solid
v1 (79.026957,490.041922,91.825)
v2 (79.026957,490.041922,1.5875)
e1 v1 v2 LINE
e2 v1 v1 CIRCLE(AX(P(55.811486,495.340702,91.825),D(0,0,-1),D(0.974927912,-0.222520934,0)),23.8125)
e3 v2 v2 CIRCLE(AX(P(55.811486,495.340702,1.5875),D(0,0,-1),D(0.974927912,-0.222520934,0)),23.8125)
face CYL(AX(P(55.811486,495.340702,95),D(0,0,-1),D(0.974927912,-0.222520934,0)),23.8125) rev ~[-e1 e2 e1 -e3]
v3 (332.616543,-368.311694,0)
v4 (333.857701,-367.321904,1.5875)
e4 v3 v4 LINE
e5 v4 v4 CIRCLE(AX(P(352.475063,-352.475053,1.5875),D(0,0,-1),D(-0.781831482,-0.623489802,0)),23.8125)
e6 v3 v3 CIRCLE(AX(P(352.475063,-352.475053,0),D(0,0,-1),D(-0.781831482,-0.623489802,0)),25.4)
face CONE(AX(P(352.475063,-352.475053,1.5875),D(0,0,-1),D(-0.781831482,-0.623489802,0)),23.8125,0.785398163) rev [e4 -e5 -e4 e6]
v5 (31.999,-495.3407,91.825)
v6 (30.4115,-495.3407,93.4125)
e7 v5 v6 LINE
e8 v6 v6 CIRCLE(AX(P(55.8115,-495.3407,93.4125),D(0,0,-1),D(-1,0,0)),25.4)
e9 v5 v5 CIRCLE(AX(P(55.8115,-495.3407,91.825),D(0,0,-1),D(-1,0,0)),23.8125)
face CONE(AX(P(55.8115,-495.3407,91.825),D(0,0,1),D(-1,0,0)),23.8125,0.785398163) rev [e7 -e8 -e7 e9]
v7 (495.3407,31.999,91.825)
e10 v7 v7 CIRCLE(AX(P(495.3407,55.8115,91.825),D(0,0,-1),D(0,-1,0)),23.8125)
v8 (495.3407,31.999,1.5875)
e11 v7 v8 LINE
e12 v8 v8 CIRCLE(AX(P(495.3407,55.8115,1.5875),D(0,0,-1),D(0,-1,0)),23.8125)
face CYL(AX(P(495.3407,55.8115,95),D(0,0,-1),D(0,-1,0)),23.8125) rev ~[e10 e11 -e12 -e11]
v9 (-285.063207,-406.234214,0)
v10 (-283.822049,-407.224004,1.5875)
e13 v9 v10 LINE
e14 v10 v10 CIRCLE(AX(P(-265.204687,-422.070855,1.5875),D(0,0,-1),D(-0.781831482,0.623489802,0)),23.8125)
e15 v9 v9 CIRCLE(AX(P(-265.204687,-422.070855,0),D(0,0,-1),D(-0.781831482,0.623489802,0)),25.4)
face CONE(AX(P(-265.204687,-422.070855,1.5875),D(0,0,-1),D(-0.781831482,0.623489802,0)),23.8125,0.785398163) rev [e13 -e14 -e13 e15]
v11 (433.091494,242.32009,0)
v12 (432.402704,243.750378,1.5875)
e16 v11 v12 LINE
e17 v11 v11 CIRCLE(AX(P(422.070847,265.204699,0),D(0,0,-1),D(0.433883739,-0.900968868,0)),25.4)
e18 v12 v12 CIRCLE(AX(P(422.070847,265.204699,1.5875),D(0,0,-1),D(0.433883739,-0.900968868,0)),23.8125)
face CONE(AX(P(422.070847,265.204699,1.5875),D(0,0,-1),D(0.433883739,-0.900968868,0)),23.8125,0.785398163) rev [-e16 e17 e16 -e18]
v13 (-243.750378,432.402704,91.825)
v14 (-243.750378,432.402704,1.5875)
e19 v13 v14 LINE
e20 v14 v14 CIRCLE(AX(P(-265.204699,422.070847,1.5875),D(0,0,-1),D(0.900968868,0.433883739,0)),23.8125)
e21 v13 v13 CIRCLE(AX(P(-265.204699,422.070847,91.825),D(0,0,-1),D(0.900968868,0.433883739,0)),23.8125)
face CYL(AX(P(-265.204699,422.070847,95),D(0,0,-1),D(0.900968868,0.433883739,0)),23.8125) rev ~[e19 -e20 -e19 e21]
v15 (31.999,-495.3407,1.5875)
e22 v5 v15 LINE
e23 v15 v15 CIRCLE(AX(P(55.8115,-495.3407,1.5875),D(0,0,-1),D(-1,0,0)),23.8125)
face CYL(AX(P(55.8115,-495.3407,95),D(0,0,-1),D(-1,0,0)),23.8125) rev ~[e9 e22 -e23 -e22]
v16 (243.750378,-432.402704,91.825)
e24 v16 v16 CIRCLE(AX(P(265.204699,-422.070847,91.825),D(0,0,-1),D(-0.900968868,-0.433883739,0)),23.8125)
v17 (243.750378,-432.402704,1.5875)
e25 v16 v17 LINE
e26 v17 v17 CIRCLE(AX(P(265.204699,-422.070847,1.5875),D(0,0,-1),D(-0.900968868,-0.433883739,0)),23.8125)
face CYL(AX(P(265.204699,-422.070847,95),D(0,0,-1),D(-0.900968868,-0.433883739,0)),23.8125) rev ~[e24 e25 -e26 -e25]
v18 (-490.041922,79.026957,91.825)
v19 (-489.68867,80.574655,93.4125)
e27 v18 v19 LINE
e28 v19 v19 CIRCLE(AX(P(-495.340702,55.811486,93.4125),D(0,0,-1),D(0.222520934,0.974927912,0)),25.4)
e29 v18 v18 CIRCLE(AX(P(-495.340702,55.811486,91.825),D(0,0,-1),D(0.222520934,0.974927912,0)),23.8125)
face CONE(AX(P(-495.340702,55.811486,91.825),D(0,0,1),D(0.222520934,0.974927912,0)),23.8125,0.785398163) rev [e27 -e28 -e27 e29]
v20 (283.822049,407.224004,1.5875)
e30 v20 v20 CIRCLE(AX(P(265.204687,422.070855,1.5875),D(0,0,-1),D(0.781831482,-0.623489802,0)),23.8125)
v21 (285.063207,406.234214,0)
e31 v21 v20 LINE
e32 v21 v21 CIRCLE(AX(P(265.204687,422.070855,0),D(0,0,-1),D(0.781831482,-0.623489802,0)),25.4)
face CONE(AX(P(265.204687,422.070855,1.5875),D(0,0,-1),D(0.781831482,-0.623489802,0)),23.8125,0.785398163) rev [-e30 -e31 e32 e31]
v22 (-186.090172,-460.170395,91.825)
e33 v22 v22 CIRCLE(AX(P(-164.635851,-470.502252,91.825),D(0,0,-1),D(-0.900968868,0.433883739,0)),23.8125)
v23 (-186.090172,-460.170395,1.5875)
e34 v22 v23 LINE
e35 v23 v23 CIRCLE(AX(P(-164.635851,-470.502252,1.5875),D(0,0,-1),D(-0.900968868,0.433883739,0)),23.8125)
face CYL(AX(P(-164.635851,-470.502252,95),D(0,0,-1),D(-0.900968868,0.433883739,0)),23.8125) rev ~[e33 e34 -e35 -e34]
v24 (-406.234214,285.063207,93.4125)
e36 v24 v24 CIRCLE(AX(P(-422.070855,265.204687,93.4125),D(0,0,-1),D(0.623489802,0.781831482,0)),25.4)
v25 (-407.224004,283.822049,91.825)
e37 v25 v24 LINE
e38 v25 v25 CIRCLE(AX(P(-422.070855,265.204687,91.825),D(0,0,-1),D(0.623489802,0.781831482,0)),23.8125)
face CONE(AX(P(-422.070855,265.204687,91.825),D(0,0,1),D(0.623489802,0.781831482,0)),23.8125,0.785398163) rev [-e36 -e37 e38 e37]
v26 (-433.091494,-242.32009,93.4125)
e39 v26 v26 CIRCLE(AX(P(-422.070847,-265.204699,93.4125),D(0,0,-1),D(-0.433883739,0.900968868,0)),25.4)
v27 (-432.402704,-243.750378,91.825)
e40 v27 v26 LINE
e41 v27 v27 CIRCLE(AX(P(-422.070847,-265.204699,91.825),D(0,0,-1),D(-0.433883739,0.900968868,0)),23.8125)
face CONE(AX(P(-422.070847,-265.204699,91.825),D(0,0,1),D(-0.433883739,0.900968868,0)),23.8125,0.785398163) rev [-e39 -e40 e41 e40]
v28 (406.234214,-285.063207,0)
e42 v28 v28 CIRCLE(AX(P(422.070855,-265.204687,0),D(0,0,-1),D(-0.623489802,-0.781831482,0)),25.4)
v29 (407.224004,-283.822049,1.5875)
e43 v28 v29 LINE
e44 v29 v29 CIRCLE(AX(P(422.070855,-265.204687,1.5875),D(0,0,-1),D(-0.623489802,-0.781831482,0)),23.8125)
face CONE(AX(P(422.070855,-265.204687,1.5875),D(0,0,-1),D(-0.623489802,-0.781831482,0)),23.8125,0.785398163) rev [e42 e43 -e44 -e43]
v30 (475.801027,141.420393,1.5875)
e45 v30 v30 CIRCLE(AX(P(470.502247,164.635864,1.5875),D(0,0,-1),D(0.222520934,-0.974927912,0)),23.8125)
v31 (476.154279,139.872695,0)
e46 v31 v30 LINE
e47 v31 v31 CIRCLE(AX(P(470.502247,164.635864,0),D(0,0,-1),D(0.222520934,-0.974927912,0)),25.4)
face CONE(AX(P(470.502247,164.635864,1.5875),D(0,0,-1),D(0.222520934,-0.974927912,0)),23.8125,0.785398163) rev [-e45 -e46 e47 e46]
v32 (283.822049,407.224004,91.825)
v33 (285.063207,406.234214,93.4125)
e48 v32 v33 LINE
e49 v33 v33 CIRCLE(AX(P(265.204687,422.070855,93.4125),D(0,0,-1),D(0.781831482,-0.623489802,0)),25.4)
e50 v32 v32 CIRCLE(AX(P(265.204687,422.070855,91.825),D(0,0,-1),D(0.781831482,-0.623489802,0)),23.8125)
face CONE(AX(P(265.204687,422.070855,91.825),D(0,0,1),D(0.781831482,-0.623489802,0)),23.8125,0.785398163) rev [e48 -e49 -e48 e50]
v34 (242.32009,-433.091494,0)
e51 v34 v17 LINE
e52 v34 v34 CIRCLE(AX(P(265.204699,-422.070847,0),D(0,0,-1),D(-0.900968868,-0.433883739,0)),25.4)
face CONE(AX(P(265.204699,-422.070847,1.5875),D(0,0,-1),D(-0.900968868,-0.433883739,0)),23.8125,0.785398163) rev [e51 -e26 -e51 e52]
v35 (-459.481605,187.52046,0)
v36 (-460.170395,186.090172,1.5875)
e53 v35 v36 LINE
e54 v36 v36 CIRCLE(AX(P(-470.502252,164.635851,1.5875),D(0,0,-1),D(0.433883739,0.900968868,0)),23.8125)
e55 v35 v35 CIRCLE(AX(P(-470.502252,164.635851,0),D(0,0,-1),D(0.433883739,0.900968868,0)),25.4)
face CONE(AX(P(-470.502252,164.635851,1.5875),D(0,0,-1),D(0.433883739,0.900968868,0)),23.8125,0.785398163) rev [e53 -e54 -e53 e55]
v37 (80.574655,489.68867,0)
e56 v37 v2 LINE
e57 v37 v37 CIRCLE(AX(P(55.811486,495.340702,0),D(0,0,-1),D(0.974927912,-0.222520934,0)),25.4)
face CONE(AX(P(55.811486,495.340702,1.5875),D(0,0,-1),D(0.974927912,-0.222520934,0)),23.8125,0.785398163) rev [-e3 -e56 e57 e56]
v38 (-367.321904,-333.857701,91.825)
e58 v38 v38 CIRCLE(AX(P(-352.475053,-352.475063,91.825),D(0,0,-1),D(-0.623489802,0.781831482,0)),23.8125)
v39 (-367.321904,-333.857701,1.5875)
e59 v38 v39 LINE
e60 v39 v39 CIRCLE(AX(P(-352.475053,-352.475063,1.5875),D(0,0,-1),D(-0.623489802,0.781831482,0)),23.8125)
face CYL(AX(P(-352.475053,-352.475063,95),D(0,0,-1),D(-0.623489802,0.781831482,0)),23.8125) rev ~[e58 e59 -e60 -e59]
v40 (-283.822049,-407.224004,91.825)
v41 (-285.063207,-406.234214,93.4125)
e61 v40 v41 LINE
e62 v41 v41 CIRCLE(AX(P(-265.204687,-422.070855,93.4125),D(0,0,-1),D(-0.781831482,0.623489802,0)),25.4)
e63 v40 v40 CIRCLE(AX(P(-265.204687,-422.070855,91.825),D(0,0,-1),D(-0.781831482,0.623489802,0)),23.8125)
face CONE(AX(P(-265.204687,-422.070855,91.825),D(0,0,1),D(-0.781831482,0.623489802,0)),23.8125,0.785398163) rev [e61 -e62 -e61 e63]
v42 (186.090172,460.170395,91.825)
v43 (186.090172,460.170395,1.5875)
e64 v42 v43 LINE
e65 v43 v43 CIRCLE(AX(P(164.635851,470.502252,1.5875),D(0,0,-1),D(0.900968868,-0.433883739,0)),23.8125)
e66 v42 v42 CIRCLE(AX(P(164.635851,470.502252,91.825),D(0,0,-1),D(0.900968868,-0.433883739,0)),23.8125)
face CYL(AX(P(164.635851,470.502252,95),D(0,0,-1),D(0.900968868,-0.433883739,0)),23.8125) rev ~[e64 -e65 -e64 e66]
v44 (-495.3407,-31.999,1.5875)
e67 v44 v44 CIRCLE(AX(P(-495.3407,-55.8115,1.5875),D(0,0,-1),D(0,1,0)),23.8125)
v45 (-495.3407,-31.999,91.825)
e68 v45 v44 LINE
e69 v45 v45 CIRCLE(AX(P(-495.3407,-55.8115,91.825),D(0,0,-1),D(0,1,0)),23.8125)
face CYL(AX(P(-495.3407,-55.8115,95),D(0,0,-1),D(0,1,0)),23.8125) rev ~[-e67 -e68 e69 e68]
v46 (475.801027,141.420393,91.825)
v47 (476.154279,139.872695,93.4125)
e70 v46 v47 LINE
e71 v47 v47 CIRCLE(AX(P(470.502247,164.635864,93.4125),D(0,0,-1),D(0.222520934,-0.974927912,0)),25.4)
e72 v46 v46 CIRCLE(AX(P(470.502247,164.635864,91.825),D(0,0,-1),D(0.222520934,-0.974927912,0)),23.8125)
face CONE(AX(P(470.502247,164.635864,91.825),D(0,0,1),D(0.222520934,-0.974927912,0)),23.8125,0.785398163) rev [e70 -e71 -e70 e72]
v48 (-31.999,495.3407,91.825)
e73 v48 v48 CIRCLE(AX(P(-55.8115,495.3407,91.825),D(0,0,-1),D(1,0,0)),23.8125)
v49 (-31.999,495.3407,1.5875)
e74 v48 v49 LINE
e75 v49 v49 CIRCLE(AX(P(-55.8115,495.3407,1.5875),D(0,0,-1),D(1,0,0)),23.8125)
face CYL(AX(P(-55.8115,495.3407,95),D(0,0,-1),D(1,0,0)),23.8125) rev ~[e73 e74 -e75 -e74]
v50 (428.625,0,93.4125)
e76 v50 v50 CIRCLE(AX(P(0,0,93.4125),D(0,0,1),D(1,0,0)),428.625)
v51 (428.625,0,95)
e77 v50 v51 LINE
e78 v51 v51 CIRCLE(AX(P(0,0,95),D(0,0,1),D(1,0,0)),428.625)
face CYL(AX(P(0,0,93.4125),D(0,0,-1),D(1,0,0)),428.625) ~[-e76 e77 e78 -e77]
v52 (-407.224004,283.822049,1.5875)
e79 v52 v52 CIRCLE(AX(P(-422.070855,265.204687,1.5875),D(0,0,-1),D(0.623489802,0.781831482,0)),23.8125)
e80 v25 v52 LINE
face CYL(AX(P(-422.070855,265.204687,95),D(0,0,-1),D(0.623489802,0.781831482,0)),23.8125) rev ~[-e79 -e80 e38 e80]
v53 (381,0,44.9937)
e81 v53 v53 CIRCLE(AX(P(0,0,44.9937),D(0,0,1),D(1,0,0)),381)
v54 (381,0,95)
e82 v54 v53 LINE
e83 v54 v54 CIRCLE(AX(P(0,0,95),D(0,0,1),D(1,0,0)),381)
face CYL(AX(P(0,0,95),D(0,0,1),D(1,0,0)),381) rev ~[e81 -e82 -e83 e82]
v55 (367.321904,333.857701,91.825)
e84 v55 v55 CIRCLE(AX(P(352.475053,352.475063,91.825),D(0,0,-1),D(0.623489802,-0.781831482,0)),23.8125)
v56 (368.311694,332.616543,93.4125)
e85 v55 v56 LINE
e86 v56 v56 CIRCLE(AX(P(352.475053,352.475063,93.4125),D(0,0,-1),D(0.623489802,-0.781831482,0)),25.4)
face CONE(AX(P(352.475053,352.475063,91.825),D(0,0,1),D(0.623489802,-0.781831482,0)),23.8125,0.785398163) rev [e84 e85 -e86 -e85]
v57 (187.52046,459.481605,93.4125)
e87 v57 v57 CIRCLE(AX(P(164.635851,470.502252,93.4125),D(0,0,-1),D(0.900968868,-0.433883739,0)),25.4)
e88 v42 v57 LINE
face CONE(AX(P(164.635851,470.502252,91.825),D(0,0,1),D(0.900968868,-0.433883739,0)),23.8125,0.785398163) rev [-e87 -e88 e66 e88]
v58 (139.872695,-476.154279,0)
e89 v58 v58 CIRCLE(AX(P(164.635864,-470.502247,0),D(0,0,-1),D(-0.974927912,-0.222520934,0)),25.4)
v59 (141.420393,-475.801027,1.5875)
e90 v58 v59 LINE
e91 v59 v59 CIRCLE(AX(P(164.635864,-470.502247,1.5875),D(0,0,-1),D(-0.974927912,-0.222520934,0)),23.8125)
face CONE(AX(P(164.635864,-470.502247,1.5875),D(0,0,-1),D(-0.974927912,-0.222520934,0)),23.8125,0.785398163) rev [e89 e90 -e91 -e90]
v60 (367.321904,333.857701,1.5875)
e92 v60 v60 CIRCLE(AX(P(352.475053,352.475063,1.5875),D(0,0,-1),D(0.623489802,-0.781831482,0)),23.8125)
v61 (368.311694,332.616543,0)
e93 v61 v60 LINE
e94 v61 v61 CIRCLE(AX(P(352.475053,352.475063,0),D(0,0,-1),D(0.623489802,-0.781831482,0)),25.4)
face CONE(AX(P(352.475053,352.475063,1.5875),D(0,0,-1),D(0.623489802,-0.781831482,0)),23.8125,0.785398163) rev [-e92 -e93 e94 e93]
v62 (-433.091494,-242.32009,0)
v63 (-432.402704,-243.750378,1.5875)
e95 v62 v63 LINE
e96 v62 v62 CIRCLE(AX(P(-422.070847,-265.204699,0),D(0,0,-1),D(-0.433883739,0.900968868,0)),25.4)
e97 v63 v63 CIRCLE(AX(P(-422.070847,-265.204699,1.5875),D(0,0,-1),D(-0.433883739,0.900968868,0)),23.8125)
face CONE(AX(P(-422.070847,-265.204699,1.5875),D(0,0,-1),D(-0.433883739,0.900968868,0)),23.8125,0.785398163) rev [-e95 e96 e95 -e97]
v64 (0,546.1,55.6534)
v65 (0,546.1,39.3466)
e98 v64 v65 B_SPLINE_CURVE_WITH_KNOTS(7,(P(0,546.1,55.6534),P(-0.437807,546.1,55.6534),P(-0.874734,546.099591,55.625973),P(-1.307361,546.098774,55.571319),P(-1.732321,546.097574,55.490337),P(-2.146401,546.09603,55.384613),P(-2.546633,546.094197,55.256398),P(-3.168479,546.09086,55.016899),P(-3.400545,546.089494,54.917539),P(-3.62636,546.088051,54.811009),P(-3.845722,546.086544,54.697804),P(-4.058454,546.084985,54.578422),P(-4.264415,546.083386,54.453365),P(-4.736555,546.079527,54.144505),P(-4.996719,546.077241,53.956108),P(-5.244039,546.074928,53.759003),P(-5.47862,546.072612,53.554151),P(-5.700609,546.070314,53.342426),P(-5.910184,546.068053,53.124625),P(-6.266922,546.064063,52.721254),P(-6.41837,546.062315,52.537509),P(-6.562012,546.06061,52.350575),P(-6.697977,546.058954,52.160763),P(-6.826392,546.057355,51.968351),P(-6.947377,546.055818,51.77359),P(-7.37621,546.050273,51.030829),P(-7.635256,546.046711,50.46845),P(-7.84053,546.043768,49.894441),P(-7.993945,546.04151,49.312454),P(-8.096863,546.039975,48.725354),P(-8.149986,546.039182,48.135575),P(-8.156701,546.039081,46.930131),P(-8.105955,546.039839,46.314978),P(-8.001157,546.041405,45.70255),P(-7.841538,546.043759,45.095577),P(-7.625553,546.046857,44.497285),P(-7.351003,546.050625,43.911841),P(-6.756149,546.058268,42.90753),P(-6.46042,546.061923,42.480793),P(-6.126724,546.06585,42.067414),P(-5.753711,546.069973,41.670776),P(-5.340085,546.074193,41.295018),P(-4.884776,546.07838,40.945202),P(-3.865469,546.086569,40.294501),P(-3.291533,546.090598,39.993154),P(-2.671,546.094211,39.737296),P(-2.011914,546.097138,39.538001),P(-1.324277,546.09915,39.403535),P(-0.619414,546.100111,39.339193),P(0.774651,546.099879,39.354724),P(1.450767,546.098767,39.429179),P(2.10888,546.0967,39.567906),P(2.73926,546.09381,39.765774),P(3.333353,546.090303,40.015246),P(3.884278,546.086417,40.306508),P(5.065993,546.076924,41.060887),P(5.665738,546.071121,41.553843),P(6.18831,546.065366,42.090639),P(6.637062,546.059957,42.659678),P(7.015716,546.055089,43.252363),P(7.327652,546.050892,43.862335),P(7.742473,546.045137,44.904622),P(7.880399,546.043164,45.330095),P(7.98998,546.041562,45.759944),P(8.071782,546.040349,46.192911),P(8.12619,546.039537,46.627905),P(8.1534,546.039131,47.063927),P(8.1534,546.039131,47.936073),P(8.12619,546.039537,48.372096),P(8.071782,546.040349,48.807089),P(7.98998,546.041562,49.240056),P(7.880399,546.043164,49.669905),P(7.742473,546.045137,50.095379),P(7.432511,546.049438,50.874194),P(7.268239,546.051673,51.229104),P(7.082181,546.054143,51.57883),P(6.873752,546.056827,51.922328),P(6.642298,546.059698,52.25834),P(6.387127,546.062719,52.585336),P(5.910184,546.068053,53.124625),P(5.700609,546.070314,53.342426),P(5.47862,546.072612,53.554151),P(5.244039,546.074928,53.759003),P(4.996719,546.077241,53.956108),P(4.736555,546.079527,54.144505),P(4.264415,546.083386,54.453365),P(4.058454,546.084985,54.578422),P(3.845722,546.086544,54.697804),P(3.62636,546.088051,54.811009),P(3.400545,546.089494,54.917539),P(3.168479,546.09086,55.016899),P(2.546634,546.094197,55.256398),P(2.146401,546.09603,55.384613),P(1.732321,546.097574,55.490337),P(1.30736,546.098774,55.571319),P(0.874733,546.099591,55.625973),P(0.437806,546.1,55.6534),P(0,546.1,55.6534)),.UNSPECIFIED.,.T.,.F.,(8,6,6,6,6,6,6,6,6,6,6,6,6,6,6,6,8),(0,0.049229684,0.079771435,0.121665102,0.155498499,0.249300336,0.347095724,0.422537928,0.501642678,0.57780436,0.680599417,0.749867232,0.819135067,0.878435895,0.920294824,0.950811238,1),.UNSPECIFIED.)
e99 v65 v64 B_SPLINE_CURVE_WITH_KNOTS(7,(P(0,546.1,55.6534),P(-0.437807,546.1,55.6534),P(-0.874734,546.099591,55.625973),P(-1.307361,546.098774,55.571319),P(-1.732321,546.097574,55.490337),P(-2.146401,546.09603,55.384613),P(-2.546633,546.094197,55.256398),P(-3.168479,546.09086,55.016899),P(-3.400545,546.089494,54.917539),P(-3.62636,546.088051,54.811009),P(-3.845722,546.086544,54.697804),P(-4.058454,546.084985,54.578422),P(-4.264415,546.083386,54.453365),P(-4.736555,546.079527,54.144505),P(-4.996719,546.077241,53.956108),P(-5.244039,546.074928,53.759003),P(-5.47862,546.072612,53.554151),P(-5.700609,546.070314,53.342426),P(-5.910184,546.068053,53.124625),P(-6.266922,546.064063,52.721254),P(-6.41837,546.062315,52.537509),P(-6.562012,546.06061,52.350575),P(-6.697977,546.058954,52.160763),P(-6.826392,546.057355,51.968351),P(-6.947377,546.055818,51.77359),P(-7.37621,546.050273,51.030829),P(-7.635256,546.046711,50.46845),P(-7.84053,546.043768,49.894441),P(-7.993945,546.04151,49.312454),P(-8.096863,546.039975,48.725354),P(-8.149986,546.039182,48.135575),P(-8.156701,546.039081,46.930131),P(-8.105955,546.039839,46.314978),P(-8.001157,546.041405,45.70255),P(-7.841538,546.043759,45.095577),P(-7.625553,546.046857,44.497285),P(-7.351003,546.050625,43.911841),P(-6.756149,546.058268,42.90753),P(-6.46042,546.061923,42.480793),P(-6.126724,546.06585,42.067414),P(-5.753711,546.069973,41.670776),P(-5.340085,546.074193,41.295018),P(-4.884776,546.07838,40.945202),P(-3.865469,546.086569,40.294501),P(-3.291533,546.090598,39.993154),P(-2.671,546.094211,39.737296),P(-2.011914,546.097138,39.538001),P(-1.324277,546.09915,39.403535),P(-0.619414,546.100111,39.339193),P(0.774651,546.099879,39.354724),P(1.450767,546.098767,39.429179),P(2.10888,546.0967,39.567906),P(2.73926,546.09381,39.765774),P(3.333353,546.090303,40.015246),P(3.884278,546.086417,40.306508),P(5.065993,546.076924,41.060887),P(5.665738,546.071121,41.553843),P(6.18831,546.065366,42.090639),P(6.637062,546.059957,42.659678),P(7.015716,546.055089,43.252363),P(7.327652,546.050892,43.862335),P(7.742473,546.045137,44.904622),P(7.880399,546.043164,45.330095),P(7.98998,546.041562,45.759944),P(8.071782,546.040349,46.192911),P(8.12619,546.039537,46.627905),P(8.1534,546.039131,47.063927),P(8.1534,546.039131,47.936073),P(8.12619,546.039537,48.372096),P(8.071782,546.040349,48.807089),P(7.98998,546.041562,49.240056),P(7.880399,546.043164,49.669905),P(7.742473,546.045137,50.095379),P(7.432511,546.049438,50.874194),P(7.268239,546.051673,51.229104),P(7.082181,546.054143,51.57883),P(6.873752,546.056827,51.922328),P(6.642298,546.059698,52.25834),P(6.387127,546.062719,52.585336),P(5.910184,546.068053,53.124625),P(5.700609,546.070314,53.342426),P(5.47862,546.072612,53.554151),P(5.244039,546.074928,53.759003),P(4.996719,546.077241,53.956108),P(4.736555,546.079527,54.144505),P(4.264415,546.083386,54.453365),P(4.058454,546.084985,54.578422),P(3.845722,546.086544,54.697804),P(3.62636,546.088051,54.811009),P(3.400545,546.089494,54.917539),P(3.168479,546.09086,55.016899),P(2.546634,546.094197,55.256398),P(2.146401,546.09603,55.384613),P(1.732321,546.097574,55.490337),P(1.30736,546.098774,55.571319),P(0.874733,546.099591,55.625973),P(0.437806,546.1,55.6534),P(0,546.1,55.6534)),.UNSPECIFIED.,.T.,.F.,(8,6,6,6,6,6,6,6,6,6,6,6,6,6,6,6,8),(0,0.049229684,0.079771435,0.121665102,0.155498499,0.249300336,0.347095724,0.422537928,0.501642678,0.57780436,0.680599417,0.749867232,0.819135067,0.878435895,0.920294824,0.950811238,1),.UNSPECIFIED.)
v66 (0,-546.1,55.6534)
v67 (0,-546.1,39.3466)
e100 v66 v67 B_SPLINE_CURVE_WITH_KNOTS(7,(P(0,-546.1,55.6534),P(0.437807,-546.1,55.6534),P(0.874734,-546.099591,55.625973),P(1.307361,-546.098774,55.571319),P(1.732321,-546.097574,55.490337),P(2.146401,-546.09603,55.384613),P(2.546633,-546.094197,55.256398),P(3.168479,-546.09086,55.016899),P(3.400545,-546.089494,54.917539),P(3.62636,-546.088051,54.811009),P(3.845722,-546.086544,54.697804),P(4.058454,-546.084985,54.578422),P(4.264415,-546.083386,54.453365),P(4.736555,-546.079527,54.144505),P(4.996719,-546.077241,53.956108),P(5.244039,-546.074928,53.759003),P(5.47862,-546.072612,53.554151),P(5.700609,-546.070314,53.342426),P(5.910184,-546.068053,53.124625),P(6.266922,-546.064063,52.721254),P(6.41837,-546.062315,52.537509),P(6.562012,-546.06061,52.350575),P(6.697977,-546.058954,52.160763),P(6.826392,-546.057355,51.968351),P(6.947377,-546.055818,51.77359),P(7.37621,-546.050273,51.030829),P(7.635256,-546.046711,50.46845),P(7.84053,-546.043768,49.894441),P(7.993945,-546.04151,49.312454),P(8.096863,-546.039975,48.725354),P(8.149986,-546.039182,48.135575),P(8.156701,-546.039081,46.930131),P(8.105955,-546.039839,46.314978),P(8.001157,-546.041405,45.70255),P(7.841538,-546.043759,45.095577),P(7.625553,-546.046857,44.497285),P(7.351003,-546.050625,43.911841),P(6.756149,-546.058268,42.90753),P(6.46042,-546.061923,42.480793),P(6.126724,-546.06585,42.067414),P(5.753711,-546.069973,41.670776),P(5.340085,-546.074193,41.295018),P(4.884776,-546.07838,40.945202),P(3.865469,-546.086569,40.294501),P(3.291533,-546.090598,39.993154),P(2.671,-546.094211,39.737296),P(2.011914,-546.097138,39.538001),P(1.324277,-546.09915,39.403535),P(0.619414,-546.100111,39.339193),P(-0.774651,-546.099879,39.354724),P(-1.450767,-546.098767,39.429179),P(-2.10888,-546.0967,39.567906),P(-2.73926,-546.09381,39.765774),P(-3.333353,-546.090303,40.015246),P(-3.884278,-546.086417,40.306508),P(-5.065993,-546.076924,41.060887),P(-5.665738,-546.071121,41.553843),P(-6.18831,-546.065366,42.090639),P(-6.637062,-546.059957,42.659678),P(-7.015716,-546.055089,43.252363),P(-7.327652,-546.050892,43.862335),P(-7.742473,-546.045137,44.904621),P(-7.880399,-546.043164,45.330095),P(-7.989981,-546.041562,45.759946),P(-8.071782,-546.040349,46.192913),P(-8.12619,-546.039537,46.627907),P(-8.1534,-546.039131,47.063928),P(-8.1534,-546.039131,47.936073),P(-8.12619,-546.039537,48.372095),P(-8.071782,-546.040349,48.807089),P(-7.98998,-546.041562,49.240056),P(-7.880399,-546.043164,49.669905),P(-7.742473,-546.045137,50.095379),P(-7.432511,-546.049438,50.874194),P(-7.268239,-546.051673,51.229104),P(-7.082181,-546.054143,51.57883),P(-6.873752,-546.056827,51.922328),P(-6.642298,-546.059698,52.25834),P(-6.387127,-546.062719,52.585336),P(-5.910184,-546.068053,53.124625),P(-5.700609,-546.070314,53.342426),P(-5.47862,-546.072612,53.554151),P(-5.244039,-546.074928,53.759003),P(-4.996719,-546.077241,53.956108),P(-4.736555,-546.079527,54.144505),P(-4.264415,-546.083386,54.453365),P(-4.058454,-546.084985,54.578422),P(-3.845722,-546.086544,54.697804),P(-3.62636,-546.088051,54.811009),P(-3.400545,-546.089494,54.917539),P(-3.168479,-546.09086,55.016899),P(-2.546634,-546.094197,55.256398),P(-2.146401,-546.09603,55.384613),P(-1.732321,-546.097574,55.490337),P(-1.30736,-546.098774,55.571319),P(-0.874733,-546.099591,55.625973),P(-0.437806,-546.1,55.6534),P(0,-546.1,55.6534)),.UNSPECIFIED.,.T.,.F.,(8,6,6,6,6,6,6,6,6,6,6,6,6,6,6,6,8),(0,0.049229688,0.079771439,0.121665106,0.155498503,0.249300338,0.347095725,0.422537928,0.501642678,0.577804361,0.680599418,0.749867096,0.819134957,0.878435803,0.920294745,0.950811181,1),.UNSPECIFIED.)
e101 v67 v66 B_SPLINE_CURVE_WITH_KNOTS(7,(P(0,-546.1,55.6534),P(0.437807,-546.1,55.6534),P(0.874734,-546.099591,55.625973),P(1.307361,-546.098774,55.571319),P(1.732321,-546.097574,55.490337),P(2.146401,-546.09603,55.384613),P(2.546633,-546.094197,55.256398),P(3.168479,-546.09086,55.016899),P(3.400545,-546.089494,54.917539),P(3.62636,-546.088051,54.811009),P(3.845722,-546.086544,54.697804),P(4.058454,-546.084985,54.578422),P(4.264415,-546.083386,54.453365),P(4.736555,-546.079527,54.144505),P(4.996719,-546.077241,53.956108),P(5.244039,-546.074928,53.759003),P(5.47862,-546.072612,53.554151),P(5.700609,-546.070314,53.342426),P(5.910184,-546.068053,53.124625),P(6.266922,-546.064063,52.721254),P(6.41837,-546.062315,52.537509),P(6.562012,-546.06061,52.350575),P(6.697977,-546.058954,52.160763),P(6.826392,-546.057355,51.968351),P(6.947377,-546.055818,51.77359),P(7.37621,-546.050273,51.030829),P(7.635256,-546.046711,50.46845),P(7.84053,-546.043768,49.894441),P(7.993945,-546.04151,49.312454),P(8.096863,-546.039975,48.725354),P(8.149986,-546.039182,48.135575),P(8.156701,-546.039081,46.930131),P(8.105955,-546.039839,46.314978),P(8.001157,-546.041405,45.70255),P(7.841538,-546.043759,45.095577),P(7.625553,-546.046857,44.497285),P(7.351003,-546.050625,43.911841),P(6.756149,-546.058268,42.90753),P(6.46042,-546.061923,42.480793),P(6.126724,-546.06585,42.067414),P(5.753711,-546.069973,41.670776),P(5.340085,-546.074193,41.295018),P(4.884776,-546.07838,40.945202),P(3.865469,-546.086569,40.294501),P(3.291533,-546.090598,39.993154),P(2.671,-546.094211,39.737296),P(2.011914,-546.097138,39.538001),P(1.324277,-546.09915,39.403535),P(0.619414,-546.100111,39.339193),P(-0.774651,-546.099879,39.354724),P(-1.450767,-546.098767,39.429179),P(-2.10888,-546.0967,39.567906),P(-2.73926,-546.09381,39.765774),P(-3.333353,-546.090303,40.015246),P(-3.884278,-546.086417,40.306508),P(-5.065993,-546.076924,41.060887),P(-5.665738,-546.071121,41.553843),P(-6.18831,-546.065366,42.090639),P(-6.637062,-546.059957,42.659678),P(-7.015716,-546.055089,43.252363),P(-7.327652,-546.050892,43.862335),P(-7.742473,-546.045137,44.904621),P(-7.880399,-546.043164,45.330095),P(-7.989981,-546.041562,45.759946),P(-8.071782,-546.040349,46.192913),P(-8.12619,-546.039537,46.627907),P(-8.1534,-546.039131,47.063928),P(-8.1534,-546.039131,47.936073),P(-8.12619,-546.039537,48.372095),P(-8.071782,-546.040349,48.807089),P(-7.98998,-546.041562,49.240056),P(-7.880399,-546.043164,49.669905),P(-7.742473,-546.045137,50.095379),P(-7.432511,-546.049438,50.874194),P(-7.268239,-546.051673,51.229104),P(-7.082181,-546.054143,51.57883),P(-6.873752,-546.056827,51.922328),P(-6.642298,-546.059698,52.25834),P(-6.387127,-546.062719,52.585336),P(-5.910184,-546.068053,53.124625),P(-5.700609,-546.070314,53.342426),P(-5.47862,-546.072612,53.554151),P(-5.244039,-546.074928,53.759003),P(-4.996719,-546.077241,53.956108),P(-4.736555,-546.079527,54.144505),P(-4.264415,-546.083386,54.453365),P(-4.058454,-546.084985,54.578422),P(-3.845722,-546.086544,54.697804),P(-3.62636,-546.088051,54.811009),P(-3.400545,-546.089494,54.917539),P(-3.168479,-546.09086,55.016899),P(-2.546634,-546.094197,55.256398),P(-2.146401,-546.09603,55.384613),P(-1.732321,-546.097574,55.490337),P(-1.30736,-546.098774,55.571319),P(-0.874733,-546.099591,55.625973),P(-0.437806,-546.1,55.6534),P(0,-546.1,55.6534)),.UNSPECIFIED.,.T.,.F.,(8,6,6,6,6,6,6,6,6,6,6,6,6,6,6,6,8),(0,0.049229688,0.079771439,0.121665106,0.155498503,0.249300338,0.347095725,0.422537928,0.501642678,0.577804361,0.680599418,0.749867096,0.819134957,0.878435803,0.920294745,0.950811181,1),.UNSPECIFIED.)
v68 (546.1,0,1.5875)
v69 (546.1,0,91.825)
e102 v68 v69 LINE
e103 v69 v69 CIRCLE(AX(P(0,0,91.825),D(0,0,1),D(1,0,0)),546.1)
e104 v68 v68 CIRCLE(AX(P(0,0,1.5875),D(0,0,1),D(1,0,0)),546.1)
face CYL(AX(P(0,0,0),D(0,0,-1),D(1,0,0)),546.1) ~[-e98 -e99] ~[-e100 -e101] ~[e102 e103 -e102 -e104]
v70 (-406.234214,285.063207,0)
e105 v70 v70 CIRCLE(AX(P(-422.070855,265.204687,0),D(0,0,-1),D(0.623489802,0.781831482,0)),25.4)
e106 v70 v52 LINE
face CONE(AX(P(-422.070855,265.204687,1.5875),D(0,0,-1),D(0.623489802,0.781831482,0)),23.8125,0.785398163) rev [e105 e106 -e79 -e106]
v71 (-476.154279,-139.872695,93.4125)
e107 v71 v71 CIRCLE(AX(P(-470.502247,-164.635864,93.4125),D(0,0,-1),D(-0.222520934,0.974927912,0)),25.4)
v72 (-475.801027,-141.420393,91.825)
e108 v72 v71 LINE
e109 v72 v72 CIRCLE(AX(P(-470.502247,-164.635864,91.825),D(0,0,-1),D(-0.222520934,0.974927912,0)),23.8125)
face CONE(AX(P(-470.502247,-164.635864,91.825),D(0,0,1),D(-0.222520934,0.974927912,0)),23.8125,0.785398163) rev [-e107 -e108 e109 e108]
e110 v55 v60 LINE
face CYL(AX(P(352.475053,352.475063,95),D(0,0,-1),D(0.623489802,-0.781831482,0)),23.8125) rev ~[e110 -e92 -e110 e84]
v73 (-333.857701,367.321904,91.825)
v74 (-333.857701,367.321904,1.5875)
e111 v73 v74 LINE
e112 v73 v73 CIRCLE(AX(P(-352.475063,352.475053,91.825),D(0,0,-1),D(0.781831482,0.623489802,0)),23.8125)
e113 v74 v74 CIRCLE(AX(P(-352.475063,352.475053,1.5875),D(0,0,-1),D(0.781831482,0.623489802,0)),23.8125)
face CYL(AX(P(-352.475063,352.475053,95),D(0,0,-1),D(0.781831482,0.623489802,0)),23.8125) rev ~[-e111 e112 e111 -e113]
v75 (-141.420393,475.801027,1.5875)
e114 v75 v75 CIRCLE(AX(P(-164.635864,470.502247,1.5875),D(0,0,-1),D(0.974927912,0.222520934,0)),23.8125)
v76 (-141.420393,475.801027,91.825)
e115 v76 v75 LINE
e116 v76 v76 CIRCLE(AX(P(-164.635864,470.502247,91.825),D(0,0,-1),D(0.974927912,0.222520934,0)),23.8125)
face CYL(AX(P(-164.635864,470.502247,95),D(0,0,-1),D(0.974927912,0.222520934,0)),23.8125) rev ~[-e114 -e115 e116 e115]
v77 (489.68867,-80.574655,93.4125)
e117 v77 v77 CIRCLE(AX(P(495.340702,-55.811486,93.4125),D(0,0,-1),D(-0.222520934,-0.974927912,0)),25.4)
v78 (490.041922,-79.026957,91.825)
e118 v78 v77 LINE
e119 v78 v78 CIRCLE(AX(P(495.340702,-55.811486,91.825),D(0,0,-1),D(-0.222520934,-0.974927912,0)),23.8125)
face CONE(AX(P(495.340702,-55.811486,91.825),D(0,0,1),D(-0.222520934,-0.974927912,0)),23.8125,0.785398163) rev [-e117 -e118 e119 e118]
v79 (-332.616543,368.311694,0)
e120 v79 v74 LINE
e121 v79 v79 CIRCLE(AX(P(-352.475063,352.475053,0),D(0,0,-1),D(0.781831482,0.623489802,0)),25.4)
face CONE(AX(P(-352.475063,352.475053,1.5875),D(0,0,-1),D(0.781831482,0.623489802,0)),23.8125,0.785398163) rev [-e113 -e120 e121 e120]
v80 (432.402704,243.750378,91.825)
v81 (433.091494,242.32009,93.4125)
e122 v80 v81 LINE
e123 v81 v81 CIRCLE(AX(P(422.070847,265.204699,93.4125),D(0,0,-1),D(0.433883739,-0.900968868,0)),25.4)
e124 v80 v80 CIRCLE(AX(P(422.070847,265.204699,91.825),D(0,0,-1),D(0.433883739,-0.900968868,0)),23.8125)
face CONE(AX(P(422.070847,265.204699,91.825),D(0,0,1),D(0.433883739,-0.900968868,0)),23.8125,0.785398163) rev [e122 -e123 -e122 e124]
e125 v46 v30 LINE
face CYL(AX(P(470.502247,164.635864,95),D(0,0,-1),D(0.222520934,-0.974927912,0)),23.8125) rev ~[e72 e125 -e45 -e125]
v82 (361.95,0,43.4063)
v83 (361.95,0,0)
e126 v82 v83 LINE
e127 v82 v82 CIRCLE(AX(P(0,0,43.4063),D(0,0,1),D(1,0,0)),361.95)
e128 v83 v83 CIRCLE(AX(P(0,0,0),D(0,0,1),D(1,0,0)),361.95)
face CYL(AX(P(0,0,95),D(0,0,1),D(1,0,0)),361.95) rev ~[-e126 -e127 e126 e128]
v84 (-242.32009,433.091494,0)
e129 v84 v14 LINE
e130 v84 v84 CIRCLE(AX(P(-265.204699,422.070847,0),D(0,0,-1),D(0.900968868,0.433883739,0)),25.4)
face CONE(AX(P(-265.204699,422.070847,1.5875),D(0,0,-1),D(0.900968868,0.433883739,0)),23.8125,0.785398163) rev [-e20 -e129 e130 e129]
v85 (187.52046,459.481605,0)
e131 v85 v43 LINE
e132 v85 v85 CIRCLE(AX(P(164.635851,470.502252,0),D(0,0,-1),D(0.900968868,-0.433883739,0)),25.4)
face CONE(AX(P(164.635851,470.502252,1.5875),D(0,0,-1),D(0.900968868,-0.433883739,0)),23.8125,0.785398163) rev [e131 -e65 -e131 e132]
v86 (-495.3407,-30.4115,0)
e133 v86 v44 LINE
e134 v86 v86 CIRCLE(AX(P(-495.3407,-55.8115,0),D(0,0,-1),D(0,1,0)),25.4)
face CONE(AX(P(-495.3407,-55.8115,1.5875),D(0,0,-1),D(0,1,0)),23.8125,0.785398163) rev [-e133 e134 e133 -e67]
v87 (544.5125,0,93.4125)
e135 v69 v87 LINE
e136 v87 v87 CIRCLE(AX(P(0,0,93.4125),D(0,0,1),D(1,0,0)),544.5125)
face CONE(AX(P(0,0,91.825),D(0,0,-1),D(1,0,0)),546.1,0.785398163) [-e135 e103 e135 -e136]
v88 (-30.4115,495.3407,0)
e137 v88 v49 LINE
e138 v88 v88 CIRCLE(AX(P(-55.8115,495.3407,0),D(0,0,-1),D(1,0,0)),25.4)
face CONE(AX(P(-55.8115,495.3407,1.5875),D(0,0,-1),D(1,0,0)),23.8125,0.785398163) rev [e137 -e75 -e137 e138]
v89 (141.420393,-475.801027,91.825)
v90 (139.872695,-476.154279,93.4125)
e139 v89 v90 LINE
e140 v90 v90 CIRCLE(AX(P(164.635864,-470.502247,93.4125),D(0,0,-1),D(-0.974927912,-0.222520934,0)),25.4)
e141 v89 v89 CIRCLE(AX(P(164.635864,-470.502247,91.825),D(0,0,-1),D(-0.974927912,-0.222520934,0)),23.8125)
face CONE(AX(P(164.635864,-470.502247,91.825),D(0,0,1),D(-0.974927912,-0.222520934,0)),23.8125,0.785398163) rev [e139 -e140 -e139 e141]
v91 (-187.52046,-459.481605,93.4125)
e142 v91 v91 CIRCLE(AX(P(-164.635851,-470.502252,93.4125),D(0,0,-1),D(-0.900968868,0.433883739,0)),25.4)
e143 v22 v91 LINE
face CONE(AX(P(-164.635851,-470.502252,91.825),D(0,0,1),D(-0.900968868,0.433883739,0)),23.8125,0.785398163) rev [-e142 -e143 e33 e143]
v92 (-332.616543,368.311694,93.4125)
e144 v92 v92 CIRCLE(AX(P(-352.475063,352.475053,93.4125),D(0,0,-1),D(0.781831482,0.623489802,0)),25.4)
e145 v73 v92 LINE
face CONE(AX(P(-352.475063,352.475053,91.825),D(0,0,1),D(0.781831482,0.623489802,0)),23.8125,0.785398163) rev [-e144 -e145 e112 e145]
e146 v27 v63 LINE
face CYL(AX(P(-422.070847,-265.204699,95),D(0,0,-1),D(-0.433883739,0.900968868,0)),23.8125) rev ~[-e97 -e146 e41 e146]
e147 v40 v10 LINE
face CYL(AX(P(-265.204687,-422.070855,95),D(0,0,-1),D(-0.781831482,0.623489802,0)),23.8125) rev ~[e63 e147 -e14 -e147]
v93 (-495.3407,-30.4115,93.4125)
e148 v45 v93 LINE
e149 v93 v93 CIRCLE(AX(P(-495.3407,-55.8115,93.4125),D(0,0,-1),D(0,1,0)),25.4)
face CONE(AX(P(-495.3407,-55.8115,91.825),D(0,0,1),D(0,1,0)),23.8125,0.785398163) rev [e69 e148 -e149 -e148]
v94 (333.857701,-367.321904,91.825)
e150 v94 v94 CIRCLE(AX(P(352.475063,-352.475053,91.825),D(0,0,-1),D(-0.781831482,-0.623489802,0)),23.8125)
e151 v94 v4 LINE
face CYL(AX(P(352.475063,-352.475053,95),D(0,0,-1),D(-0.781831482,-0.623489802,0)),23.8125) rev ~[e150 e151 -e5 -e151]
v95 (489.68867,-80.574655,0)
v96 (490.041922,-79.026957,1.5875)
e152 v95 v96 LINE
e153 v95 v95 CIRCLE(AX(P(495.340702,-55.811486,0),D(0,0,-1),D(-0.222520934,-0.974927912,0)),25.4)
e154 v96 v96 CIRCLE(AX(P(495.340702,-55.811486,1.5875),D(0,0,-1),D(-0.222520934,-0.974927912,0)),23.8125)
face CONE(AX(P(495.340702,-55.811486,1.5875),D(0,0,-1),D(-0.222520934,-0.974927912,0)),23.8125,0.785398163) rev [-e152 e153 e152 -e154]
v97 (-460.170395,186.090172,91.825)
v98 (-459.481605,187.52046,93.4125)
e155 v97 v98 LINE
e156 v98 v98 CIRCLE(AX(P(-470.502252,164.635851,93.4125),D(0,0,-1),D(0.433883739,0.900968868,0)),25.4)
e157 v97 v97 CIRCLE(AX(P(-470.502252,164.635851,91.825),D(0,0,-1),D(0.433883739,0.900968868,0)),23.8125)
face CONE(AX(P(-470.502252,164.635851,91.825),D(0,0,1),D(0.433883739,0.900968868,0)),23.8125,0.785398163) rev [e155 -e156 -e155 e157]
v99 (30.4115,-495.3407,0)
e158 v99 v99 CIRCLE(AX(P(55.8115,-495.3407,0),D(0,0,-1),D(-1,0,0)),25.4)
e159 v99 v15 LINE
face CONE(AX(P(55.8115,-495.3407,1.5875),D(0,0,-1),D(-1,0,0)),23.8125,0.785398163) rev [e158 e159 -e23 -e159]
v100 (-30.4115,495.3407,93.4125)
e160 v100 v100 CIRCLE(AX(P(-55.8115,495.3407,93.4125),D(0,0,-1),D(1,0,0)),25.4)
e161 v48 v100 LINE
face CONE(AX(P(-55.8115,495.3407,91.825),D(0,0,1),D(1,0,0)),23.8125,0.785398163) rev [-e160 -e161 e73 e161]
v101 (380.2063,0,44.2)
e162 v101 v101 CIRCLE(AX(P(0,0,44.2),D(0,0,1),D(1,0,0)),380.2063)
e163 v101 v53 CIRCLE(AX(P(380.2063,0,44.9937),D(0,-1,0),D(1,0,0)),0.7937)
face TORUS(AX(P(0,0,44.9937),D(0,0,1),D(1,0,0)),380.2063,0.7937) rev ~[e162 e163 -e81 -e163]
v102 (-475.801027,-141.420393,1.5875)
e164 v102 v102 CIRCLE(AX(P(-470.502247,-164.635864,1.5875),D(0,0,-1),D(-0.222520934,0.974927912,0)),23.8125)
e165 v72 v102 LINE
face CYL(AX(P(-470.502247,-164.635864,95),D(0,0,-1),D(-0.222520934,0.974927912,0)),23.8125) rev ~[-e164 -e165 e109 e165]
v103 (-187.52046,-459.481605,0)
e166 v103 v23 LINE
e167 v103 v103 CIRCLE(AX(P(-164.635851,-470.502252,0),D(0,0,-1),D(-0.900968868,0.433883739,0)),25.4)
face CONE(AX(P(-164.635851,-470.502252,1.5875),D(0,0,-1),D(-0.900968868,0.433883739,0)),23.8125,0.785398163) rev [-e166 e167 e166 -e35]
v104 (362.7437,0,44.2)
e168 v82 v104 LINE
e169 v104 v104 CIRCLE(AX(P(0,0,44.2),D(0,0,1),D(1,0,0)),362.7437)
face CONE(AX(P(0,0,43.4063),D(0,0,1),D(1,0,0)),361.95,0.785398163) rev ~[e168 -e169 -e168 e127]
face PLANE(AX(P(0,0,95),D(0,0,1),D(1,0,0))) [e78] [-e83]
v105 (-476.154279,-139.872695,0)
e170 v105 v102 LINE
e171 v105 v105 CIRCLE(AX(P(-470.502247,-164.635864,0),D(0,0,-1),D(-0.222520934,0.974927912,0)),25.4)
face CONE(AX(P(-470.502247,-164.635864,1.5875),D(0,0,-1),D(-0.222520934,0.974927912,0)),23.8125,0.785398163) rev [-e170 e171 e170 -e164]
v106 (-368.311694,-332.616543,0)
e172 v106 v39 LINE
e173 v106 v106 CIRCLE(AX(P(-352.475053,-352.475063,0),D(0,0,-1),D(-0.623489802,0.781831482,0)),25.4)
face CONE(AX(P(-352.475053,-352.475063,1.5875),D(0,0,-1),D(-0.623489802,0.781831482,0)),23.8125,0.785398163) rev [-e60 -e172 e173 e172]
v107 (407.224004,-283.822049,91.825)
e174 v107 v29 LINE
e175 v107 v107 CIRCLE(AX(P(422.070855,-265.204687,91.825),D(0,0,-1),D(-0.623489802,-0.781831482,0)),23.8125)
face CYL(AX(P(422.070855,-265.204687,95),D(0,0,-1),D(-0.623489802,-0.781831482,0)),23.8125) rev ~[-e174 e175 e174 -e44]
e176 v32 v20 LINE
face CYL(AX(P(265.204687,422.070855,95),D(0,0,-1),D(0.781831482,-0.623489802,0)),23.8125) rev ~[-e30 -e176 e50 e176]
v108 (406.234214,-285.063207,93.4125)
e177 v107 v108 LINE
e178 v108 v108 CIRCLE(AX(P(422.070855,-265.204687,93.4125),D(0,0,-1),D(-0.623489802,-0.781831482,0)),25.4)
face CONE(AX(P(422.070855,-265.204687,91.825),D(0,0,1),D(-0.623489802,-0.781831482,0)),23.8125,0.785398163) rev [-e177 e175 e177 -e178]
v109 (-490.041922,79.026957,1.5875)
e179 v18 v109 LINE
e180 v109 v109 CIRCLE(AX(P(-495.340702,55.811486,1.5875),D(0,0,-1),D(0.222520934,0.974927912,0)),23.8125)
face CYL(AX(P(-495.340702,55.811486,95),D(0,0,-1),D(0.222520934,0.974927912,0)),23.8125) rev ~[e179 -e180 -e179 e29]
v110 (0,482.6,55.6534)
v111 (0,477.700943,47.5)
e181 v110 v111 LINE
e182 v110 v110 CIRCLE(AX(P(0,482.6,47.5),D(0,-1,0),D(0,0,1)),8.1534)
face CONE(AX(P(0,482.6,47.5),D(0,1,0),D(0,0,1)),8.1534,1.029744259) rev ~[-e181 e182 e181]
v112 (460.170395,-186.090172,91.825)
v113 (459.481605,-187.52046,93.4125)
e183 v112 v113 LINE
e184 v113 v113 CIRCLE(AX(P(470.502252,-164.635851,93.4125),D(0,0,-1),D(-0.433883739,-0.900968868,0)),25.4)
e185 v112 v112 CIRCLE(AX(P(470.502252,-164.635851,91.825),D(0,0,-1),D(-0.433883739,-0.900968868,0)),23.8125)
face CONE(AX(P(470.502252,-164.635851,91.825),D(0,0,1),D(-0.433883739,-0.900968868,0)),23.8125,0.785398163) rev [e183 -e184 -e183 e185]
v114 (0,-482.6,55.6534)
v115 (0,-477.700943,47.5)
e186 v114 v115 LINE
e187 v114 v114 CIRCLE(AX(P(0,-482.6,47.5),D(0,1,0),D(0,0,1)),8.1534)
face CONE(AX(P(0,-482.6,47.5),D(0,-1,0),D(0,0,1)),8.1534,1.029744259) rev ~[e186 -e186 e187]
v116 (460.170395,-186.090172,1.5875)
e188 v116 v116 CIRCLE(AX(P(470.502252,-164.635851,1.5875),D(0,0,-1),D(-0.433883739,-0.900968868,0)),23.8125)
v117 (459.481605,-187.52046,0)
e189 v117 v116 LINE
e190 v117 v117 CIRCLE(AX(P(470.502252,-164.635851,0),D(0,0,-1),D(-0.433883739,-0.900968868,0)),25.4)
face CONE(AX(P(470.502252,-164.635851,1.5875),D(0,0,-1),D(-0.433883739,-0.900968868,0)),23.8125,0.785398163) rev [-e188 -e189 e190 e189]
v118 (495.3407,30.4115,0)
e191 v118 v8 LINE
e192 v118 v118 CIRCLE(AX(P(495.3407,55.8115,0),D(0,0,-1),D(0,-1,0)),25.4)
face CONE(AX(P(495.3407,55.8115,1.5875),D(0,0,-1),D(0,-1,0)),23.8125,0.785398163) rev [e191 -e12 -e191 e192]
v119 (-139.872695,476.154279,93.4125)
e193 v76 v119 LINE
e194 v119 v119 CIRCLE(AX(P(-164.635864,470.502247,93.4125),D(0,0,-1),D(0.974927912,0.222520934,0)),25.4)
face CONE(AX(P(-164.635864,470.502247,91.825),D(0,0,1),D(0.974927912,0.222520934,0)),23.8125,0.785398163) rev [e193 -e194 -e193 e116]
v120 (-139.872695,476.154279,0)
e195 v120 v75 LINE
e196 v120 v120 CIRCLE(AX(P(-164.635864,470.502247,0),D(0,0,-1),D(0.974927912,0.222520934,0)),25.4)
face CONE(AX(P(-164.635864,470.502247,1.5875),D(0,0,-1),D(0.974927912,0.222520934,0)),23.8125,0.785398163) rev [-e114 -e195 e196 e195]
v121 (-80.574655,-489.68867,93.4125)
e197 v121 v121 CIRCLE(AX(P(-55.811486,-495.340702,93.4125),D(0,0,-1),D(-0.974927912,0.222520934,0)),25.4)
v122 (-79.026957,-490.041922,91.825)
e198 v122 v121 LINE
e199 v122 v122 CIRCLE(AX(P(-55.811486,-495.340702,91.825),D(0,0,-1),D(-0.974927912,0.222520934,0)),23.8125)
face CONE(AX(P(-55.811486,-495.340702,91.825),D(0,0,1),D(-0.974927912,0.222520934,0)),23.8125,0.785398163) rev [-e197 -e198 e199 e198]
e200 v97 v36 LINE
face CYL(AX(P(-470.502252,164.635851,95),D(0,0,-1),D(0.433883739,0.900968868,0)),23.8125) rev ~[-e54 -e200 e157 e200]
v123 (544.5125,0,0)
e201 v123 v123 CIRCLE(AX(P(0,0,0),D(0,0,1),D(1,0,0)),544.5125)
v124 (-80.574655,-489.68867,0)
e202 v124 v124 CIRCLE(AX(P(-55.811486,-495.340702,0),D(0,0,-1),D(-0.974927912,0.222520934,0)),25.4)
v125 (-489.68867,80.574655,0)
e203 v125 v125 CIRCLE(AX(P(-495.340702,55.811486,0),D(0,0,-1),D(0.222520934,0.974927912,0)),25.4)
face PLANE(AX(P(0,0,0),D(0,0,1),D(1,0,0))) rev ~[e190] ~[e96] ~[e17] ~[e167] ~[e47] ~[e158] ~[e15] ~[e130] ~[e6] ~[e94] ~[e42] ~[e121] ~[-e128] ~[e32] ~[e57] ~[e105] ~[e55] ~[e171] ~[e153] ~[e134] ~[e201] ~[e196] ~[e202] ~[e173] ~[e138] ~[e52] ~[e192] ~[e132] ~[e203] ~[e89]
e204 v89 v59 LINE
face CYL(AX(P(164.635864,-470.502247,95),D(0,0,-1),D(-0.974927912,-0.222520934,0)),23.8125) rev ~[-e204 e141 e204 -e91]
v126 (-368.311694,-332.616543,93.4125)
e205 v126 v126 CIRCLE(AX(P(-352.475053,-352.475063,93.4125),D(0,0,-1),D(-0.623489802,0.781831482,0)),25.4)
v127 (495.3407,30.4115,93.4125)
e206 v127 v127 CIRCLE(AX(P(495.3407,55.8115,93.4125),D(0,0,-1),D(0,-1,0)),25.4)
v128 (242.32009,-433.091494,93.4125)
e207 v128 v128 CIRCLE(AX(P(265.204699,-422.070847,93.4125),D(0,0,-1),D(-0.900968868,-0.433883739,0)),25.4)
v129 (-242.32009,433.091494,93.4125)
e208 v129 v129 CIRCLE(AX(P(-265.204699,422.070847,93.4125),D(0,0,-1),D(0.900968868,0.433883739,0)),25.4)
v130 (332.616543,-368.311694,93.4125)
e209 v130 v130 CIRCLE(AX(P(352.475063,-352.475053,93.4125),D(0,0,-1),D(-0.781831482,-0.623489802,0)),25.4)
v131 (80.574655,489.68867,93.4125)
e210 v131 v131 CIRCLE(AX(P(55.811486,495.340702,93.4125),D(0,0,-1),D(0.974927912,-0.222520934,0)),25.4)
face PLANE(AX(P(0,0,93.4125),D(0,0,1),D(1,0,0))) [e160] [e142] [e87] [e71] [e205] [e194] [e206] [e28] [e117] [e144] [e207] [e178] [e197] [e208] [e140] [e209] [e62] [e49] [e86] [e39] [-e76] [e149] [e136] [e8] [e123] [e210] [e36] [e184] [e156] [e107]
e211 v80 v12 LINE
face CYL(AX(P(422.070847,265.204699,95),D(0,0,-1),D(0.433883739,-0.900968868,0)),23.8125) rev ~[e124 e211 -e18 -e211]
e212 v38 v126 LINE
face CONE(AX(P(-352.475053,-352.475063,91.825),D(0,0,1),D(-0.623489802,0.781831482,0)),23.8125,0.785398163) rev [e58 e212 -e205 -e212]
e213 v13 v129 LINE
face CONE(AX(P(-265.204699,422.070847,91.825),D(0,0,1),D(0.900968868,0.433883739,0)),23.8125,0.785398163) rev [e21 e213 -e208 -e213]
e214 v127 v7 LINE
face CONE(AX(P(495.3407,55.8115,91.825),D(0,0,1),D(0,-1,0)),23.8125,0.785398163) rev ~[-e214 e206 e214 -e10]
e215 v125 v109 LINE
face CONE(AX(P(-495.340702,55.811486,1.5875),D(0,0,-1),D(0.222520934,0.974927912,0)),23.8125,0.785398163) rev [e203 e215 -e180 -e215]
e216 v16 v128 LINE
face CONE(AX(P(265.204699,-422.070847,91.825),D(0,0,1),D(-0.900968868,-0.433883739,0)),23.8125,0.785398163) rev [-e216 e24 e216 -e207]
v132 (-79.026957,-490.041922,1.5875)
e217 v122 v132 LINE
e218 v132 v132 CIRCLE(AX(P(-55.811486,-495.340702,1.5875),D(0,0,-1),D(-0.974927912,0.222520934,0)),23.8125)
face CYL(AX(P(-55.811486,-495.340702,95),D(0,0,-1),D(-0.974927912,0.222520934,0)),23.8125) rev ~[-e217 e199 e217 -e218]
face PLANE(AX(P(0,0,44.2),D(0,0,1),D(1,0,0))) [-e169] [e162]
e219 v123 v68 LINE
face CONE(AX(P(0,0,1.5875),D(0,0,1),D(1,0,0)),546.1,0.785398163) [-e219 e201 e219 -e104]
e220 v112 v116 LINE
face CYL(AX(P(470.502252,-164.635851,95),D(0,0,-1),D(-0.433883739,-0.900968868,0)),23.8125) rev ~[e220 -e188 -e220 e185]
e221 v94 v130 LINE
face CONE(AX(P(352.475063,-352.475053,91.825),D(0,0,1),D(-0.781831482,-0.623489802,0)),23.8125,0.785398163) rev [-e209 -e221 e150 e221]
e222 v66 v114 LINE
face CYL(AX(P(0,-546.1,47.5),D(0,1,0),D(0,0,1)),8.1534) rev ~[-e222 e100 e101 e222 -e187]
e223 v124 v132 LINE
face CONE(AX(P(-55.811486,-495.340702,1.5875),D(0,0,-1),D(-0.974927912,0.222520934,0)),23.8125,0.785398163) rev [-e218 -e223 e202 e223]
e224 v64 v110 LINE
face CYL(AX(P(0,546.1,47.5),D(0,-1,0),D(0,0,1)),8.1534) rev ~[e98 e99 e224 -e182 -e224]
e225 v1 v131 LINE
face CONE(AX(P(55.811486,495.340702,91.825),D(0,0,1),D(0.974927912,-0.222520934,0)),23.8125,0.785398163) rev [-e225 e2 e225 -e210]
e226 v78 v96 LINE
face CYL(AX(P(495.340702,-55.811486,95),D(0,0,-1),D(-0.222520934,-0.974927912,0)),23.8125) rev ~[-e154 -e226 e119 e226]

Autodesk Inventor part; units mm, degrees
ref_plane "YZ Plane" through (0, 0, 0) normal (1, 0, 0) x (0, 1, 0)
ref_plane "XY Plane" through (0, 0, 0) normal (0, 0, 1) x (1, 0, 0)
sketch "Sketch1" plane through (0, 0, 0) normal (0, 0, 1) x (1, 0, 0)
  circle A0 centre (0, 0) radius 546.1
  dimension "d0" = 1092.2
extrude "Extrusion: OD" add sketch "Sketch1" along normal blind 93.4125
sketch "Sketch2" plane through (0, 0, 93.4125) normal (0, 0, 1) x (1, 0, 0)
  circle A0 centre (0, 0) radius 428.625
  dimension "d3" = 857.25
extrude "Extrusion: RF" add sketch "Sketch2" along normal blind 1.5875
sketch "Sketch3" plane through (0, 0, 95) normal (0, 0, 1) x (1, 0, 0)
  circle A0 centre (0, 0) radius 381
  dimension "d6" = 762
  dimension "d32" = 0
extrude "Extrusion: ID Large" cut sketch "Sketch3" against normal blind 50.8
sketch "Sketch4" plane through (0, 0, 95) normal (0, 0, 1) x (1, 0, 0)
  circle A0 centre (0, 0) radius 361.95
  circle A1 centre (0, 0) radius 428.625 projected
  dimension "bore" = 723.9
extrude "Extrusion: ID Small" cut sketch "Sketch4" along normal through all both and the other way through all contours A0
sketch "Sketch5" plane through (0, 0, 95) normal (0, 0, 1) x (1, 0, 0)
  line L0 (-495.3407, -55.8115) -> (495.3407, 55.8115)
  line L1 (-495.3407, -55.8115) -> (501.6093, -55.8115) construction
  point P0 (0, 0)
  point P1 (0, 0)
  dimension "d12" = 996.95
  dimension "d13" = 6.429
hole "Hole: Bolt" at (495.3407, 55.8115, 95) direction (0, 0, -1) diameter 47.625 end through all
chamfer "Chamfer: Bolt hole" distance 1.5875 angle 45 2 edges at (495.3407, 79.624, 93.4125) (495.3407, 79.624, 0)
pattern_circular "Circular Pattern: Bolt hole" count 28 over 360 about axis through (0, 0, -10) along (0, 0, 1) of "Hole: Bolt", "Chamfer: Bolt hole"
chamfer "Chamfer: OD" distance 1.5875 angle 45 2 edges at (-546.1, 0, 93.4125) (-546.1, 0, 0)
chamfer "Chamfer2" distance 0.7937 angle 45 1 edges at (-361.95, 0, 44.2)
fillet "Fillet2" radius 0.7937 1 edges at (-381, 0, 44.2)
ref_plane "Work Plane1" through (0, 546.1, 0) normal (0, 1, 0) x (-1, 0, 0)
sketch "Sketch6" plane through (0, 546.1, 0) normal (0, 1, 0) x (-1, 0, 0)
  point P0 (0, 0)
  point P1 (0, 47.5)
  dimension "d36" = 47.5
hole "Hole2" at (0, 546.1, 47.5) direction (0, -1, 0) diameter 16.3068 depth 63.5 tip angle 118 thread size "3/4-10 UNC" class "2B" standard "ANSI Unified Screw Threads"
pattern_circular "Circular Pattern2" count 2 over 360 about axis through (0, 0, -10) along (0, 0, 1) of "Hole2"
equation "\"d0\" = od"
equation "\"d1\" = thk - rf"
equation "\"d3\" = od_rf"
equation "\"d4\" = rf"
equation "\"d6\" = cbore"
equation "\"bore\" = cbore - 2 * r_diff_cbore"
equation "\"d36\" = 0.5 * d4 + 0.5 * d1"
equation "\"od\" = 1092.2"
equation "\"thk\" = 95"
equation "\"rf\" = 1.5875"
equation "\"od_rf\" = 857.25"
equation "\"cbore\" = 762"
equation "\"r_diff_cbore\" = 19.05"
properties part number "A1-19010-100-01 30in CL300 RFBL flange" material "A105N"
